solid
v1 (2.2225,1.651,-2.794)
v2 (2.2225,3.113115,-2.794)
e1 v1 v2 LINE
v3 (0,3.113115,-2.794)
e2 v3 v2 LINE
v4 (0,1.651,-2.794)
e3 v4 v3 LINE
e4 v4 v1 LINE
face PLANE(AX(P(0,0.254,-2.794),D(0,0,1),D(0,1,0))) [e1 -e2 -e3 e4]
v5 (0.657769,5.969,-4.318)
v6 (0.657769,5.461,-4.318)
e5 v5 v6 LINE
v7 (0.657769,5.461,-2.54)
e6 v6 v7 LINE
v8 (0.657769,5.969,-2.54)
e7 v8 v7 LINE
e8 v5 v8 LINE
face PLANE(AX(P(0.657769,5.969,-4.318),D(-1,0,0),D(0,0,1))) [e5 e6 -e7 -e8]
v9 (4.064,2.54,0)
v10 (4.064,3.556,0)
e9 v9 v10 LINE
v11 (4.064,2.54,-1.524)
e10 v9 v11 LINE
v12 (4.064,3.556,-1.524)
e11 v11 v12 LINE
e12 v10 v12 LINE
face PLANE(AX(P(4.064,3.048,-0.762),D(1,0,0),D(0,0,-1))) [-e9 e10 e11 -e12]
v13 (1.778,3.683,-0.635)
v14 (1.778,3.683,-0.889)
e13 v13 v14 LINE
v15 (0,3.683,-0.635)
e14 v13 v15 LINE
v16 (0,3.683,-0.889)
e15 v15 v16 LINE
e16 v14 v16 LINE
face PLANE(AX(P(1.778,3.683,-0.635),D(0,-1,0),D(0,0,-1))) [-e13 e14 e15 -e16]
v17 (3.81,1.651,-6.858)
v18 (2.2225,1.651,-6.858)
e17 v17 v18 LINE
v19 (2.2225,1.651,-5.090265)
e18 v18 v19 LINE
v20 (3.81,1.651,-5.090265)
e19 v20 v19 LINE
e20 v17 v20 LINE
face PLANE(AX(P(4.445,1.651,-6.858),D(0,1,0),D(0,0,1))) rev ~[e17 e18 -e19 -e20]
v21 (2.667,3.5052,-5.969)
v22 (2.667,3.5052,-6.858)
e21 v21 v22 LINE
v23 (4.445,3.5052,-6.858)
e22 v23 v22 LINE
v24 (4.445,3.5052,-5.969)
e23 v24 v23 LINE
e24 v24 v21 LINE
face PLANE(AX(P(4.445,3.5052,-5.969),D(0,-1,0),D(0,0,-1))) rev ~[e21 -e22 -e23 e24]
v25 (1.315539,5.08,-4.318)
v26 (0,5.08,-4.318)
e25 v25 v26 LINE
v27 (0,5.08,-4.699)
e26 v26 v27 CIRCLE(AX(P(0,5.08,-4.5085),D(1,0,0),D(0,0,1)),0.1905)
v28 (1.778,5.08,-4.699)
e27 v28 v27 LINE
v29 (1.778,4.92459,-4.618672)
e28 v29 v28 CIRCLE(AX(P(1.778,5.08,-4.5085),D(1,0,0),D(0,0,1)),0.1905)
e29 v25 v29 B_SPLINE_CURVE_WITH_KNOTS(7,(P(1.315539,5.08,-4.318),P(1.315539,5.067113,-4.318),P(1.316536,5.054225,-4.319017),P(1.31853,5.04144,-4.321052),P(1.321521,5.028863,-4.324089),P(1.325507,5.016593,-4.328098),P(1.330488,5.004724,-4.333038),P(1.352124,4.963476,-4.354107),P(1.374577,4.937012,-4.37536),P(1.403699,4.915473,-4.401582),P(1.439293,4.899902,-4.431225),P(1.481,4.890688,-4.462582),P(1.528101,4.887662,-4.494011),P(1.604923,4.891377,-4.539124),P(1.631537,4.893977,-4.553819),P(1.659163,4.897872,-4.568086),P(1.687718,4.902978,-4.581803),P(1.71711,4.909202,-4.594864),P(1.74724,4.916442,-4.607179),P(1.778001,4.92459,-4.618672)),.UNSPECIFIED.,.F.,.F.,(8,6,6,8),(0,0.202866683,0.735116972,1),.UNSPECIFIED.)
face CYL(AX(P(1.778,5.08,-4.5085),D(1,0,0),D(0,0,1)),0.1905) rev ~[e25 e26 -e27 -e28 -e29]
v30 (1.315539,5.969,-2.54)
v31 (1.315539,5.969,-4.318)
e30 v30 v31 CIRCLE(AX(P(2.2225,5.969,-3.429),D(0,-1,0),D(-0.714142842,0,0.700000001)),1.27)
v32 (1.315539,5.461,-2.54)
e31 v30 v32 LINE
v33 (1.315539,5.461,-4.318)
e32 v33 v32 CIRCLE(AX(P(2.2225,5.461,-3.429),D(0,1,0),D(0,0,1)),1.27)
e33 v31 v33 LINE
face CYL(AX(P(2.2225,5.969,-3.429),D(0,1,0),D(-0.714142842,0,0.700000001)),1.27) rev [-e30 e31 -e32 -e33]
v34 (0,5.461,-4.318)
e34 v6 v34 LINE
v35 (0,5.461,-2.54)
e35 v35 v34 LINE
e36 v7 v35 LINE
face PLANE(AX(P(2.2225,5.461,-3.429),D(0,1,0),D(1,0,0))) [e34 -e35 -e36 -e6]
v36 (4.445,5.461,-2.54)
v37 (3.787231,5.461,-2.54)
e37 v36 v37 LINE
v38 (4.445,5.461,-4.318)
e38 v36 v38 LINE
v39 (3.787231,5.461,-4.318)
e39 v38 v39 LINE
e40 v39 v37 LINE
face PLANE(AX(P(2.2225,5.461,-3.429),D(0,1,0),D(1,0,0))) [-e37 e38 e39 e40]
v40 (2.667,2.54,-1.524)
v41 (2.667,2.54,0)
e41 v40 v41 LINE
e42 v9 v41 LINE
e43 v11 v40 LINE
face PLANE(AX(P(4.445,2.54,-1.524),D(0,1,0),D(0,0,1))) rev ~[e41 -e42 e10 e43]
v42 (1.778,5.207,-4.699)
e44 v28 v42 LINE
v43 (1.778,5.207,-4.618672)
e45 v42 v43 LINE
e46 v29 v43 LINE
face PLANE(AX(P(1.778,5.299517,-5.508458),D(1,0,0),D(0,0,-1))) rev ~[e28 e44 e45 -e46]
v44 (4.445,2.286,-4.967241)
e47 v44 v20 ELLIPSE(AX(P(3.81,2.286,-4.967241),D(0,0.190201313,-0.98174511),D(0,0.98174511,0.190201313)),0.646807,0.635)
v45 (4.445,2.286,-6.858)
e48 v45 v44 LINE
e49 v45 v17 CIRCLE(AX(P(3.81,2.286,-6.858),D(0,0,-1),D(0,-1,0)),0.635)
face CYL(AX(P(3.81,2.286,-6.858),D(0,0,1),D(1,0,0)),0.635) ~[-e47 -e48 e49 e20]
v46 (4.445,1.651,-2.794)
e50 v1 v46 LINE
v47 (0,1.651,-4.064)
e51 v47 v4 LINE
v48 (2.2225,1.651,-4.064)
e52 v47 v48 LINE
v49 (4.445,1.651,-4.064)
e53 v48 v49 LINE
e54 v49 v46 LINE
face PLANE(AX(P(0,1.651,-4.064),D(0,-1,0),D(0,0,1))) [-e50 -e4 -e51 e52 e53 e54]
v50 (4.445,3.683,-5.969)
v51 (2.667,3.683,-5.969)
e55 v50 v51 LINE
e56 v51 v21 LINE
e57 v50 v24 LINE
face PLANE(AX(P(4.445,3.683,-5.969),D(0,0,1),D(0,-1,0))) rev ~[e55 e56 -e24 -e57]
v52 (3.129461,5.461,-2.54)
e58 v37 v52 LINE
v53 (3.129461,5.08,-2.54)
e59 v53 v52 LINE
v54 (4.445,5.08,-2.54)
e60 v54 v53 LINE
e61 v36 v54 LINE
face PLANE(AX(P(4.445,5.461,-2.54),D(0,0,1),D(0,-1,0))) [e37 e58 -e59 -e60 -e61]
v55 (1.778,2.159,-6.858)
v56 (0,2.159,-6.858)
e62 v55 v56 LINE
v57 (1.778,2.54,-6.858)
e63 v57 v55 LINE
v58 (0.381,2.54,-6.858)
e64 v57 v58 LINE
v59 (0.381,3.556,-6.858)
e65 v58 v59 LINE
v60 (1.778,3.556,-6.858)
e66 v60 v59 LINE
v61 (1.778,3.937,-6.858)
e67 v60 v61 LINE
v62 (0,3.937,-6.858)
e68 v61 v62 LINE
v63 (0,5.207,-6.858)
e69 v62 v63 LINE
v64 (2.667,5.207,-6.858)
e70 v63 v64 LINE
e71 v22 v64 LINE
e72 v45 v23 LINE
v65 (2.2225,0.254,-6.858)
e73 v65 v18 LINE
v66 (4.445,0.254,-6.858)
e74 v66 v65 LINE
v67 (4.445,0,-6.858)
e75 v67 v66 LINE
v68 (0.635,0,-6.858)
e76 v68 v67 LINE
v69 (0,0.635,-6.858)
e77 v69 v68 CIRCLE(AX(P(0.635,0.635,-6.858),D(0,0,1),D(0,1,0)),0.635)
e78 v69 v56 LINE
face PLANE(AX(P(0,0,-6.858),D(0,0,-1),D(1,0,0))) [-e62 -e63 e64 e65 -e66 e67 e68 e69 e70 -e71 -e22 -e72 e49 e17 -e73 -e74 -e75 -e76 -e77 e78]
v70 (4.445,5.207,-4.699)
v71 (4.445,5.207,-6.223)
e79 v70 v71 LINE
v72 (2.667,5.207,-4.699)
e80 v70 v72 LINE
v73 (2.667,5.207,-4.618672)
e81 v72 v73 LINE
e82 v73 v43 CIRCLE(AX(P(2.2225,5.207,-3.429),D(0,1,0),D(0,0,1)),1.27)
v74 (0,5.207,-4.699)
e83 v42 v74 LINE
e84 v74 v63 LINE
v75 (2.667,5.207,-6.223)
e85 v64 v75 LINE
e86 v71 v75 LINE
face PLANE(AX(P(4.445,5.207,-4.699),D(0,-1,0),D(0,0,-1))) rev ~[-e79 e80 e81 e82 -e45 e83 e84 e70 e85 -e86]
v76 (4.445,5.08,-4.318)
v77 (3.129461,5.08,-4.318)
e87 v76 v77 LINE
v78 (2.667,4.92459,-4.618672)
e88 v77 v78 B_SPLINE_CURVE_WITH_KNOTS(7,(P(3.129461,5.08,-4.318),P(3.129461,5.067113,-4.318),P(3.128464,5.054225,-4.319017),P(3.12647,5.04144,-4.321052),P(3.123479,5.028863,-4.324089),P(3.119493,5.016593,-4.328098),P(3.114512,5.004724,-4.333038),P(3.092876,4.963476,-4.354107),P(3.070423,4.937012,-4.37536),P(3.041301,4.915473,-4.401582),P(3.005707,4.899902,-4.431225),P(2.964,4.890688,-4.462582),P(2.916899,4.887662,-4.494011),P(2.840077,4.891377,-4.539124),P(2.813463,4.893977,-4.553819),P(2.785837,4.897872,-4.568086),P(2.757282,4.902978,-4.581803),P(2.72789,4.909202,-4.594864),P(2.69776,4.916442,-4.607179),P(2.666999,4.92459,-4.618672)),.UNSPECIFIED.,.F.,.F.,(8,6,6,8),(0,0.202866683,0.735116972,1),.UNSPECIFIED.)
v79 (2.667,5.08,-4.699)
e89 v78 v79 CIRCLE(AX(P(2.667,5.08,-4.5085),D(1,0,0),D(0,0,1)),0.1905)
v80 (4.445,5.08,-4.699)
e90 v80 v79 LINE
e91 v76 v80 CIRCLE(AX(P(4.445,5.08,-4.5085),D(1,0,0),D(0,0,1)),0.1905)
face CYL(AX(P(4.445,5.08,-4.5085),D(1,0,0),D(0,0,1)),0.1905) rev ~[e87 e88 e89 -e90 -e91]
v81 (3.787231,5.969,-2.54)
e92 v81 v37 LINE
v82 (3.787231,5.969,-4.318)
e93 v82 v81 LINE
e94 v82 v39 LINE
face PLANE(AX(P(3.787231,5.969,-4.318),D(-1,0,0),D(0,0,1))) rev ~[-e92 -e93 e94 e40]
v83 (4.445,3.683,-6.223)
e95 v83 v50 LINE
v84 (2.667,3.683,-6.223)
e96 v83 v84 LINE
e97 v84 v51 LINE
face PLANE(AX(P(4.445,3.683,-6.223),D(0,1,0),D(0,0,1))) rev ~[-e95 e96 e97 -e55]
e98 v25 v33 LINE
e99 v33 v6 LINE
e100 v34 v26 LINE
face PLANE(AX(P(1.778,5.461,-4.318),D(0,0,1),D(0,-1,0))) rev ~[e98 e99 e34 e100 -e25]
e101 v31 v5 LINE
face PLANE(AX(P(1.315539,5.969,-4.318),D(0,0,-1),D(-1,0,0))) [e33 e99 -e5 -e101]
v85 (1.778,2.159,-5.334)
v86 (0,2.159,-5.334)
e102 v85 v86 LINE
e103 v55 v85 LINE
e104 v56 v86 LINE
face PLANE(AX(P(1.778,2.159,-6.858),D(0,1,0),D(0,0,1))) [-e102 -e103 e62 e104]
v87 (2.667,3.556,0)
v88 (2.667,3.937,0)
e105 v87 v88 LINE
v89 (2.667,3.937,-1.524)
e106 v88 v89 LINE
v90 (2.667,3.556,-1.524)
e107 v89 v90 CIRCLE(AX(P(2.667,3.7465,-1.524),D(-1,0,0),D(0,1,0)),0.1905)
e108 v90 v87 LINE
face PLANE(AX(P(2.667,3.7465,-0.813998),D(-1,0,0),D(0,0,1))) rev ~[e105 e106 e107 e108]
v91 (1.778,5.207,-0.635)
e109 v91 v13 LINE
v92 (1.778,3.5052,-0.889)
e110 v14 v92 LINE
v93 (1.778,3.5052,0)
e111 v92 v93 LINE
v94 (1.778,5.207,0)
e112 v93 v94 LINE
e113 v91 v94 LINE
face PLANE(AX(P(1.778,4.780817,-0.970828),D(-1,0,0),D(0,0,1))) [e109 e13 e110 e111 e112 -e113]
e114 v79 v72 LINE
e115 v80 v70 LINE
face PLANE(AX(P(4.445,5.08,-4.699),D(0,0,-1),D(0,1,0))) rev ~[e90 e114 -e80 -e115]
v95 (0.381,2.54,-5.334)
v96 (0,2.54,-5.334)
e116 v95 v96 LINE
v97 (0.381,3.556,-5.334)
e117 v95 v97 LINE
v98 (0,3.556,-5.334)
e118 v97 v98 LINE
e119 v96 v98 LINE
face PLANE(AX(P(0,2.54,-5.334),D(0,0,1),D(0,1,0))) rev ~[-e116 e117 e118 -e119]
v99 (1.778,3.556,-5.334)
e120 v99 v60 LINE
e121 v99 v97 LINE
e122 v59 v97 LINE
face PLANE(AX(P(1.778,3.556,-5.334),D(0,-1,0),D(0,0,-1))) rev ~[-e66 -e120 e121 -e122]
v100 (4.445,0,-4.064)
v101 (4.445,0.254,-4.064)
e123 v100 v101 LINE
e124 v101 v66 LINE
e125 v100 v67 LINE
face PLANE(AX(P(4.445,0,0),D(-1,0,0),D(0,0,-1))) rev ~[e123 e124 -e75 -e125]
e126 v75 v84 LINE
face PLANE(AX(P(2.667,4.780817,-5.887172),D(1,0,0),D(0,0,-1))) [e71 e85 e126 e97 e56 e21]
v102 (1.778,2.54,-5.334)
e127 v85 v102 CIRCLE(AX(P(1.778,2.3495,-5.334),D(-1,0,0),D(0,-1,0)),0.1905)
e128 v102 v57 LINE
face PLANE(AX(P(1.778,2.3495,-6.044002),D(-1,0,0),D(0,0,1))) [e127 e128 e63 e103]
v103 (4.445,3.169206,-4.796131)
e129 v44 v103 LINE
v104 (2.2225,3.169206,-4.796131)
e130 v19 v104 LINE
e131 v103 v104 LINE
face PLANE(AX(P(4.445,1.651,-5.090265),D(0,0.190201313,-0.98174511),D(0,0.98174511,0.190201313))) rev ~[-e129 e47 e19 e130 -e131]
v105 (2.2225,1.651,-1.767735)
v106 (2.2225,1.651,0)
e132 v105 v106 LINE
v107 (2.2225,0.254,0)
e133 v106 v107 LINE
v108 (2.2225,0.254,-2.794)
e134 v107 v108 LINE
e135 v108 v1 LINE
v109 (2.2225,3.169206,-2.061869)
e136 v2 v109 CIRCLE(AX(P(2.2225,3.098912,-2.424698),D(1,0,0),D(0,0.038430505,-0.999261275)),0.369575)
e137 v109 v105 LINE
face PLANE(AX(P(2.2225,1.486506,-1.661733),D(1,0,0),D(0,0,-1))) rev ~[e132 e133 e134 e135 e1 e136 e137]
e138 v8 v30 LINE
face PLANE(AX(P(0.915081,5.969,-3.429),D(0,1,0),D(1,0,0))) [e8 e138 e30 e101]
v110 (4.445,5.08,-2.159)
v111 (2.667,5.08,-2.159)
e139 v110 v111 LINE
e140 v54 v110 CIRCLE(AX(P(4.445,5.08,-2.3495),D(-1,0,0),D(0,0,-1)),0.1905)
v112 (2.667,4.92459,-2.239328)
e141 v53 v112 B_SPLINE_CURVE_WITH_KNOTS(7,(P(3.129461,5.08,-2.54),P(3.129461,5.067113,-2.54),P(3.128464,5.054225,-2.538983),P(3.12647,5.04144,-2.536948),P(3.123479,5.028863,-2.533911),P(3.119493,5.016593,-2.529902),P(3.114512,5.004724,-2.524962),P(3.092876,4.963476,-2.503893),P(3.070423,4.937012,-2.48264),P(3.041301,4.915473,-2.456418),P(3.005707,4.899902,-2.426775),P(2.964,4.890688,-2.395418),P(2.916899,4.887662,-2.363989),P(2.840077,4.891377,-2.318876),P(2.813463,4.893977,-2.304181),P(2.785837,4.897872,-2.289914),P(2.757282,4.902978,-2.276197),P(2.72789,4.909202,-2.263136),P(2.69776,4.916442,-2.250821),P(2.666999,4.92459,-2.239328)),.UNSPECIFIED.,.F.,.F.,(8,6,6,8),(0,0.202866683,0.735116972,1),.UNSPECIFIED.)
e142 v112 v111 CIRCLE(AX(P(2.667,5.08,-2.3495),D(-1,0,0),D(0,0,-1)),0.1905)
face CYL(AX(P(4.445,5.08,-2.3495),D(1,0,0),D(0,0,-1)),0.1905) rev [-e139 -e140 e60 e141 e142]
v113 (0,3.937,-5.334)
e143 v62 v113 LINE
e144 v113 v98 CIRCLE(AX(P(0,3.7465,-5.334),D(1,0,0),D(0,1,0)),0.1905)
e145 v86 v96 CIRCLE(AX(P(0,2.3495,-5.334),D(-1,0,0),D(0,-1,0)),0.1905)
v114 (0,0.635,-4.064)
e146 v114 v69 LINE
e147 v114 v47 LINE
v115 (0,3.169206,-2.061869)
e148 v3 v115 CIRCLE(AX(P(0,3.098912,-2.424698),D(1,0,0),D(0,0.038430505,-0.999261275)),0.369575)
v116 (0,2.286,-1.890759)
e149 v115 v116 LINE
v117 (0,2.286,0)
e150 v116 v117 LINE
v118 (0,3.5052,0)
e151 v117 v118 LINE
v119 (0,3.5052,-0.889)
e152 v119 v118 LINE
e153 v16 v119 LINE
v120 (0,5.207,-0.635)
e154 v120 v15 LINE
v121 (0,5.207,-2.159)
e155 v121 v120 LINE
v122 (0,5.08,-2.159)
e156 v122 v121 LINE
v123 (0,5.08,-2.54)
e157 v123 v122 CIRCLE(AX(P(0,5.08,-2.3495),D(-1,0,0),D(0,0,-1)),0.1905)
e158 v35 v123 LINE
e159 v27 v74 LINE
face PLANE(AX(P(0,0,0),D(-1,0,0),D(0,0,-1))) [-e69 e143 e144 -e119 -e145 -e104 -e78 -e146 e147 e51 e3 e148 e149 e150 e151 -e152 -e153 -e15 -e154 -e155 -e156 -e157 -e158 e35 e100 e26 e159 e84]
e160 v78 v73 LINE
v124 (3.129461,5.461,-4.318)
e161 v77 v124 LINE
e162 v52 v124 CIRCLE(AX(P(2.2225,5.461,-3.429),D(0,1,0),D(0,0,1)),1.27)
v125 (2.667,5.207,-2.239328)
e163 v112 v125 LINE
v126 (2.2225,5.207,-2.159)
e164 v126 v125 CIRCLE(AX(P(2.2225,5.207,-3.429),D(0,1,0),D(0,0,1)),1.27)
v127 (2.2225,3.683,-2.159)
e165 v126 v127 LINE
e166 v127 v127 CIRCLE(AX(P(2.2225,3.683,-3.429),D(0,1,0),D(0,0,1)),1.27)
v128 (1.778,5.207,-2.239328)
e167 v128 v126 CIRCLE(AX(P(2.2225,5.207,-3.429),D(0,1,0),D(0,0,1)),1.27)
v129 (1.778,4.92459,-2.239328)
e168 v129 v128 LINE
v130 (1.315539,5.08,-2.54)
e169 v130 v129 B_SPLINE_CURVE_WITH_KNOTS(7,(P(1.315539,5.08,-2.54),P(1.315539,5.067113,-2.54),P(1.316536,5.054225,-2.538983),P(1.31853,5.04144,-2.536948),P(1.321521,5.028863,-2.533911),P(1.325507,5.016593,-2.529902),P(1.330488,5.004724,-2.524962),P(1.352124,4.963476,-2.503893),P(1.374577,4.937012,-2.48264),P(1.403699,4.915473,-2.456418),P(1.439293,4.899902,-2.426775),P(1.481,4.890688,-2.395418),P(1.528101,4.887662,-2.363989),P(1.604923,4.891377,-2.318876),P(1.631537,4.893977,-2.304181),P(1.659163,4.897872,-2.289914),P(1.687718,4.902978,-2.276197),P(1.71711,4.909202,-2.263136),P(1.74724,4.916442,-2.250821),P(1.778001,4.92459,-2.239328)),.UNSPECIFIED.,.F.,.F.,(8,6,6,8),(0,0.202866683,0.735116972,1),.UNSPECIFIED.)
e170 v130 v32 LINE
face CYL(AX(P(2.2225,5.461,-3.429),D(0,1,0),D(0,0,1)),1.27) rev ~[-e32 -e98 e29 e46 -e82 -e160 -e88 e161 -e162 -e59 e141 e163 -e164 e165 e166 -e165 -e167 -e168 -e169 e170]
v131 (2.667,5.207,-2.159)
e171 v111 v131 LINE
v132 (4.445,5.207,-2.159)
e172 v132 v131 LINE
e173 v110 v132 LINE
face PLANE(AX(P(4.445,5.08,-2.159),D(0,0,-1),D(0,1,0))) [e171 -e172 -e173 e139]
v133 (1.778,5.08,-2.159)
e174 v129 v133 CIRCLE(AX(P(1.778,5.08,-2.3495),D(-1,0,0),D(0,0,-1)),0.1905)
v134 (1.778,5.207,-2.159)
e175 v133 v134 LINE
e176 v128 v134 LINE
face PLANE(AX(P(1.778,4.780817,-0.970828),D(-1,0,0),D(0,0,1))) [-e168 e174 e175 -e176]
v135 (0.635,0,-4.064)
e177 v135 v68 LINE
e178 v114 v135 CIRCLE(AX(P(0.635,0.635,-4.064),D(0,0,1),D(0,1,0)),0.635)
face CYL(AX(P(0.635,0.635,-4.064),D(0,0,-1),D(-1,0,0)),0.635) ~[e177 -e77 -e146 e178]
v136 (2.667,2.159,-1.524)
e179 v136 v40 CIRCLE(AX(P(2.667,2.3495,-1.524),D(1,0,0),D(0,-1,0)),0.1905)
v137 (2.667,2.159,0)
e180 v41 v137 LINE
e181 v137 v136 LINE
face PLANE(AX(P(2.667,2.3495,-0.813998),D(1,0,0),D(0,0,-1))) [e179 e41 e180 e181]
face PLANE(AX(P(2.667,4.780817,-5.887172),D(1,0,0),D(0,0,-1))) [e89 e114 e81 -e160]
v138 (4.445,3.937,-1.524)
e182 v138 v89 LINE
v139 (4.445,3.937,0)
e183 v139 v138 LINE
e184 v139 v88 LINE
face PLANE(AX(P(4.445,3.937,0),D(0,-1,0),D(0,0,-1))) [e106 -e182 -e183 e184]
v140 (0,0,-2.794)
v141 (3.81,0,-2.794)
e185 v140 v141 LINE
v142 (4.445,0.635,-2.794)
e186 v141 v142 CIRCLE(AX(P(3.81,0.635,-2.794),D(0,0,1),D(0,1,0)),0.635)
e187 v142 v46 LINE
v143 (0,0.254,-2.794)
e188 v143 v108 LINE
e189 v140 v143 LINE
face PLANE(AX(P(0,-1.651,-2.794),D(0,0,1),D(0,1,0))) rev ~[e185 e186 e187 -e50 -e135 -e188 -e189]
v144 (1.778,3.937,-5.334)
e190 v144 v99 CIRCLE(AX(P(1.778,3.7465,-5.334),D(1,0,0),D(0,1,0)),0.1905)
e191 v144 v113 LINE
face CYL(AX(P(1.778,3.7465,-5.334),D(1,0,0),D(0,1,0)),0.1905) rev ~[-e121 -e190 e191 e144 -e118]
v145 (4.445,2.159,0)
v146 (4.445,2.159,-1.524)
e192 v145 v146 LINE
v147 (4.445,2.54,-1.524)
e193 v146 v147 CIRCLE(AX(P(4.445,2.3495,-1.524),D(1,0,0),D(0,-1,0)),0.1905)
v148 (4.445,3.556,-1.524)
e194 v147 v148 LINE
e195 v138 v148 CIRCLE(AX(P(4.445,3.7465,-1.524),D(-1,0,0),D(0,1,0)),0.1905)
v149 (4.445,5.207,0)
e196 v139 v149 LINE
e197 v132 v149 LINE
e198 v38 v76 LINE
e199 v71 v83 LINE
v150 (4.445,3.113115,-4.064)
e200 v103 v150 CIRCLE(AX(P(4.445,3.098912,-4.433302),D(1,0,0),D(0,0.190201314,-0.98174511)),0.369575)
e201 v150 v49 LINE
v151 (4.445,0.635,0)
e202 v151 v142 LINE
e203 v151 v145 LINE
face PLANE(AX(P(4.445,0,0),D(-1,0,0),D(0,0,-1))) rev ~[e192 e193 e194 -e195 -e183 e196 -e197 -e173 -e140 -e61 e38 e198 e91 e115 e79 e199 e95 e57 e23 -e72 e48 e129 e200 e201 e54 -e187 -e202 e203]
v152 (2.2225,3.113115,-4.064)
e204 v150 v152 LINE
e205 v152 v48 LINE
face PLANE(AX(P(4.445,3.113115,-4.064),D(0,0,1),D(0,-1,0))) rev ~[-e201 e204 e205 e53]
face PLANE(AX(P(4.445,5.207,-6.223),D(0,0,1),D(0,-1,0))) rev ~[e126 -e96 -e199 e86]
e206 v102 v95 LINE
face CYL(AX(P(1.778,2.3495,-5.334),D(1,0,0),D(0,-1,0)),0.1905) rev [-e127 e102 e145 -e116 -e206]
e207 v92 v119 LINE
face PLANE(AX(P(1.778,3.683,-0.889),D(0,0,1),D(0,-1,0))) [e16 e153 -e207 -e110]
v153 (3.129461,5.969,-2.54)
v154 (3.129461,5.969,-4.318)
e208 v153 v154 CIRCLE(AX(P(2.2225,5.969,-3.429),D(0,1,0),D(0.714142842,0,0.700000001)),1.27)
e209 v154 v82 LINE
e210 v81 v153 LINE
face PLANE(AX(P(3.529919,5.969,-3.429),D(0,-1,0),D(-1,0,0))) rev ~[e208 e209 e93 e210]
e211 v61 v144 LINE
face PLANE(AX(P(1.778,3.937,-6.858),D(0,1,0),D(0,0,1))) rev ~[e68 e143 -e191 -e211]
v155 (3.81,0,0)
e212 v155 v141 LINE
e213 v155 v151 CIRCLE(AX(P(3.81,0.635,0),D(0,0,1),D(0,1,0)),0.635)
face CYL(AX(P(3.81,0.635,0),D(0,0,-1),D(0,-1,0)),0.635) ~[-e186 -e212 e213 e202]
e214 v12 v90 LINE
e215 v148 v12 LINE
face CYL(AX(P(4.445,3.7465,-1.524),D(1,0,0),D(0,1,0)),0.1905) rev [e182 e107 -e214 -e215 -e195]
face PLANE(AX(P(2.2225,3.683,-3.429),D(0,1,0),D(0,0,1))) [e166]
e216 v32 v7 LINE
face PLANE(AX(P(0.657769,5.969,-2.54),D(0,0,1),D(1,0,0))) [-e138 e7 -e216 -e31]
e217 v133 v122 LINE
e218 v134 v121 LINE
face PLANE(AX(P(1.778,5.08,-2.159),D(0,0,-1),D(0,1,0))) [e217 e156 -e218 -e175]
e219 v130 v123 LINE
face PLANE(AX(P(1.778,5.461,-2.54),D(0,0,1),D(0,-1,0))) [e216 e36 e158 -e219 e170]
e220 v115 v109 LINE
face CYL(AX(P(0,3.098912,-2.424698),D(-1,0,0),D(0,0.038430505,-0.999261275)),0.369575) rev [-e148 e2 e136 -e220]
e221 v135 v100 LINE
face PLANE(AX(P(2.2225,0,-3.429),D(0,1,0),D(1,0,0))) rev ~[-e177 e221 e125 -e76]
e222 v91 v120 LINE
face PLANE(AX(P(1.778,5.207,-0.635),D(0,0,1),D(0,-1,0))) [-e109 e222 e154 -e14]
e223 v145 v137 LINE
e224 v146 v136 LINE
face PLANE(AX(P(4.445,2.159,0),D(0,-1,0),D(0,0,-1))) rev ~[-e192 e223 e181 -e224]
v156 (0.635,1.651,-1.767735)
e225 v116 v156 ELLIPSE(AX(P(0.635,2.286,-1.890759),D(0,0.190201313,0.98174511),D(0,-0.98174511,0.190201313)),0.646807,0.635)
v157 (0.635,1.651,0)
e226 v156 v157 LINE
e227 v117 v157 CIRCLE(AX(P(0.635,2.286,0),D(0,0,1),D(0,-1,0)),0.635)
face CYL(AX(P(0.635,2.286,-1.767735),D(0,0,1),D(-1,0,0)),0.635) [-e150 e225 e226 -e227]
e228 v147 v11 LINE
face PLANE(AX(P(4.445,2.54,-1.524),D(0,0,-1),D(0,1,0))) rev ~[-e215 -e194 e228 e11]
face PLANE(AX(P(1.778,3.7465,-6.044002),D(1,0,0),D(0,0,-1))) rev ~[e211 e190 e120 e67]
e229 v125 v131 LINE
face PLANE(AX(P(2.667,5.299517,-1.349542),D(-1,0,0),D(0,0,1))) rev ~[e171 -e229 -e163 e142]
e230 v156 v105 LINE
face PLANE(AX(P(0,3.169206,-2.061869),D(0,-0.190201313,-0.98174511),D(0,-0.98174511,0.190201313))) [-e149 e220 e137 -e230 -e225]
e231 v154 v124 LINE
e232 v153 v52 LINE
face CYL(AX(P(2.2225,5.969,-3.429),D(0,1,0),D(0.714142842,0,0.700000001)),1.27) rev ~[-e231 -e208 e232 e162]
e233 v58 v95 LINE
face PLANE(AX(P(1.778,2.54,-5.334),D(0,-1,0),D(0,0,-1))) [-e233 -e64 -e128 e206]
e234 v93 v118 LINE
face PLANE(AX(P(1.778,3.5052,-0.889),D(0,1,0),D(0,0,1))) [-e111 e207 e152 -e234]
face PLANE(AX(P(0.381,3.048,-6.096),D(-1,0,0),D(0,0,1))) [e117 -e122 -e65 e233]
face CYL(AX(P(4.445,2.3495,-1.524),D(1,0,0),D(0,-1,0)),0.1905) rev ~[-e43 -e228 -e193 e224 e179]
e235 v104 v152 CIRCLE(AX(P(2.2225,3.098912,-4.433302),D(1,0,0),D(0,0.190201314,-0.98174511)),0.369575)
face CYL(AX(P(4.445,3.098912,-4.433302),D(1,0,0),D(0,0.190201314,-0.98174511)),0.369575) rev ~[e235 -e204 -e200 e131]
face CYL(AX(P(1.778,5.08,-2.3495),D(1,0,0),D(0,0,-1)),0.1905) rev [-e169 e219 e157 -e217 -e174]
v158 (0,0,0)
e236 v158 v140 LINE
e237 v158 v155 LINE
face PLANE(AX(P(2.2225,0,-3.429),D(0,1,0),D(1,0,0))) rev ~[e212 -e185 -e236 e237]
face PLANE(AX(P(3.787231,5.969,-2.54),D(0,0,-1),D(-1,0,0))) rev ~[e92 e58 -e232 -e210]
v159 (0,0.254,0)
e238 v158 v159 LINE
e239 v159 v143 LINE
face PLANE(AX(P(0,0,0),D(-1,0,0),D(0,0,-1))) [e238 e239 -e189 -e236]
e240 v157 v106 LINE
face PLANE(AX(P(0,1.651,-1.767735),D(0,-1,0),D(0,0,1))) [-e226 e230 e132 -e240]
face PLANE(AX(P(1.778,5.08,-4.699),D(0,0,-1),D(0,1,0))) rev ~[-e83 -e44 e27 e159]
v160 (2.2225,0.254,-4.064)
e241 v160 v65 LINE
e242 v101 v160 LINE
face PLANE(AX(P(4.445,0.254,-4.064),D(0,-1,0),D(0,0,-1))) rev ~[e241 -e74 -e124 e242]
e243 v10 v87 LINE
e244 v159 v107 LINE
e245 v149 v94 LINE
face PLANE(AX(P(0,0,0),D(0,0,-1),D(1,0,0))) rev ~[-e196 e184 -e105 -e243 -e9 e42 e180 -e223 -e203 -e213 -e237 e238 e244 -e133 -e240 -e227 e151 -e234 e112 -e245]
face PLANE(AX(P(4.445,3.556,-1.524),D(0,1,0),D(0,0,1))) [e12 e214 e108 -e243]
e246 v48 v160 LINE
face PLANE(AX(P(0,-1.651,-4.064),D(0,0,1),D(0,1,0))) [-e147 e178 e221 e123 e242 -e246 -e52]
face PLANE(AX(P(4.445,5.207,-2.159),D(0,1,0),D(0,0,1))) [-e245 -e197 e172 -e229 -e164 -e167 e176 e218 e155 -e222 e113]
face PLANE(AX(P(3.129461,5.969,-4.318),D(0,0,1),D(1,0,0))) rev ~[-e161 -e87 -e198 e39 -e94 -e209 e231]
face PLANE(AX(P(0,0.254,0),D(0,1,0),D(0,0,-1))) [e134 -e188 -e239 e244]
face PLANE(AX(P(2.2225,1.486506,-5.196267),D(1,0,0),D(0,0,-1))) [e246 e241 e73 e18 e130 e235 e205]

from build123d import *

# Parameters (mm, degrees)
SKETCH1_W           = 4.445
SKETCH1_H           = 6.858
BOSS_EXTRUDE1_DEPTH = 5.461
SKETCH2_R           = 1.27
CUT_EXTRUDE1_DEPTH  = 1.778
SKETCH3_W           = 1.27
SKETCH3_H           = 3.302
CUT_EXTRUDE2_DEPTH  = 10.829176466
CUT_EXTRUDE3_DEPTH  = 2.2225
CUT_EXTRUDE4_DEPTH  = 2.2225
CUT_EXTRUDE6_DEPTH  = 1.778
CUT_EXTRUDE7_START  = -1.778
CUT_EXTRUDE7_DEPTH  = 1.778
FILLET1_R           = 0.635
SKETCH14_W          = 0.889
SKETCH14_H          = 0.254
CUT_EXTRUDE8_DEPTH  = 10.829176567
BOSS_EXTRUDE2_START = 0.508
BOSS_EXTRUDE2_DEPTH = 0.508
SKETCH16_W          = 1.524
SKETCH16_H          = 1.016
CUT_EXTRUDE9_DEPTH  = 0.381
SKETCH17_W          = 1.524
SKETCH17_H          = 1.016
CUT_EXTRUDE10_DEPTH = 0.381


with BuildPart() as part:
    # Sketch1 → Boss-Extrude1 (new body)
    with BuildSketch(Plane(origin=(0, 0, 0), x_dir=(1, 0, 0), z_dir=(0, 1, 0))):
        with Locations((2.2225, 3.429)):
            Rectangle(SKETCH1_W, SKETCH1_H)
    extrude(amount=BOSS_EXTRUDE1_DEPTH)

    # Sketch2 → Cut-Extrude1 (cut)
    with BuildSketch(Plane(origin=(0, 5.461, 0), x_dir=(1, 0, 0), z_dir=(0, 1, 0))):
        with Locations(Location((2.2225, 3.429, 0), (0, 0, 270))):
            Circle(SKETCH2_R)
    extrude(amount=-CUT_EXTRUDE1_DEPTH, mode=Mode.SUBTRACT)

    # Sketch3 → Cut-Extrude2 (cut, through all)
    with BuildSketch(Plane.ZY):
        with Locations((-3.429, 0)):
            Rectangle(SKETCH3_W, SKETCH3_H)
    extrude(amount=-CUT_EXTRUDE2_DEPTH, mode=Mode.SUBTRACT)

    # Sketch4 → Cut-Extrude3 (cut)
    with BuildSketch(Plane.ZY):
        with BuildLine():
            Line((-2.794, 1.651), (-2.794, 3.11311482))
            ThreePointArc((-2.794, 3.11311482), (-2.452929401, 3.467407127), (-2.061869299, 3.169205537))
            Line((-2.061869299, 3.169205537), (-1.767735227, 1.651))
            Line((-1.767735227, 1.651), (0, 1.651))
            Line((0, 1.651), (0, 0.254))
            Line((0, 0.254), (-2.794, 0.254))
            Line((-2.794, 0.254), (-2.794, 1.651))
        make_face()
    extrude(amount=-CUT_EXTRUDE3_DEPTH, mode=Mode.SUBTRACT)

    # Sketch11 → Cut-Extrude4 (cut)
    with BuildSketch(Plane(origin=(4.445, 0, 0), x_dir=(0, 0, -1), z_dir=(1, 0, 0))):
        with BuildLine():
            Line((6.858, 0.254), (6.858, 1.651))
            Line((6.858, 1.651), (5.090264773, 1.651))
            Line((5.090264773, 1.651), (4.796130701, 3.169205537))
            ThreePointArc((4.796130701, 3.169205537), (4.405070599, 3.467407127), (4.064, 3.11311482))
            Line((4.064, 3.11311482), (4.064, 1.651))
            Line((4.064, 1.651), (4.064, 0.254))
            Line((4.064, 0.254), (6.858, 0.254))
        make_face()
    extrude(amount=-CUT_EXTRUDE4_DEPTH, mode=Mode.SUBTRACT)

    # Sketch12 → Cut-Extrude6 (cut)
    with BuildSketch(Plane(origin=(4.445, 0, 0), x_dir=(0, 0, -1), z_dir=(1, 0, 0))):
        with BuildLine():
            Line((0, 2.159), (1.524, 2.159))
            ThreePointArc((1.524, 2.159), (1.7145, 2.3495), (1.524, 2.54))
            Line((1.524, 2.54), (0, 2.54))
            Line((0, 2.54), (0, 2.159))
        make_face()
        with BuildLine():
            Line((0, 3.937), (1.524, 3.937))
            ThreePointArc((1.524, 3.937), (1.7145, 3.7465), (1.524, 3.556))
            Line((1.524, 3.556), (0, 3.556))
            Line((0, 3.556), (0, 3.937))
        make_face()
        with BuildLine():
            Line((2.54, 5.207), (2.54, 5.08))
            ThreePointArc((2.54, 5.08), (2.3495, 4.8895), (2.159, 5.08))
            Line((2.159, 5.08), (2.159, 5.207))
            Line((2.159, 5.207), (0, 5.207))
            Line((0, 5.207), (0, 5.461))
            Line((0, 5.461), (2.54, 5.461))
            Line((2.54, 5.461), (2.54, 5.207))
        make_face()
        with BuildLine():
            Line((4.699, 5.08), (4.699, 5.207))
            Line((4.699, 5.207), (6.223, 5.207))
            Line((6.223, 5.207), (6.223, 3.683))
            Line((6.223, 3.683), (5.969, 3.683))
            Line((5.969, 3.683), (5.969, 3.5052))
            Line((5.969, 3.5052), (6.858, 3.5052))
            Line((6.858, 3.5052), (6.858, 5.461))
            Line((6.858, 5.461), (4.318, 5.461))
            Line((4.318, 5.461), (4.318, 5.207))
            Line((4.318, 5.207), (4.318, 5.08))
            ThreePointArc((4.318, 5.08), (4.5085, 4.8895), (4.699, 5.08))
        make_face()
    extrude(amount=-CUT_EXTRUDE6_DEPTH, mode=Mode.SUBTRACT)

    # Sketch13 → Cut-Extrude7 (cut)
    with BuildSketch(Plane.ZY.offset(CUT_EXTRUDE7_START)):
        with BuildLine():
            Line((-6.858, 2.159), (-5.334, 2.159))
            ThreePointArc((-5.334, 2.159), (-5.1435, 2.3495), (-5.334, 2.54))
            Line((-5.334, 2.54), (-6.858, 2.54))
            Line((-6.858, 2.54), (-6.858, 2.159))
        make_face()
        with BuildLine():
            Line((-6.858, 3.937), (-5.334, 3.937))
            ThreePointArc((-5.334, 3.937), (-5.1435, 3.7465), (-5.334, 3.556))
            Line((-5.334, 3.556), (-6.858, 3.556))
            Line((-6.858, 3.556), (-6.858, 3.937))
        make_face()
        with BuildLine():
            Line((-4.318, 5.207), (-4.318, 5.08))
            ThreePointArc((-4.318, 5.08), (-4.5085, 4.8895), (-4.699, 5.08))
            Line((-4.699, 5.08), (-4.699, 5.207))
            Line((-4.699, 5.207), (-6.858, 5.207))
            Line((-6.858, 5.207), (-6.858, 5.461))
            Line((-6.858, 5.461), (-4.318, 5.461))
            Line((-4.318, 5.461), (-4.318, 5.207))
        make_face()
        with BuildLine():
            Line((-2.159, 5.08), (-2.159, 5.207))
            Line((-2.159, 5.207), (-0.635, 5.207))
            Line((-0.635, 5.207), (-0.635, 3.683))
            Line((-0.635, 3.683), (-0.889, 3.683))
            Line((-0.889, 3.683), (-0.889, 3.5052))
            Line((-0.889, 3.5052), (0, 3.5052))
            Line((0, 3.5052), (0, 5.461))
            Line((0, 5.461), (-2.54, 5.461))
            Line((-2.54, 5.461), (-2.54, 5.207))
            Line((-2.54, 5.207), (-2.54, 5.08))
            ThreePointArc((-2.54, 5.08), (-2.3495, 4.8895), (-2.159, 5.08))
        make_face()
    extrude(amount=CUT_EXTRUDE7_DEPTH, mode=Mode.SUBTRACT)

    # Fillet1
    fillet1_edges = [part.edges().sort_by_distance(p)[0] for p in [
        (0, 1.651, -0.883867613),
        (4.445, 0, -1.397),
        (0, 0, -5.461),
        (4.445, 1.651, -5.974132387),
    ]]
    fillet(fillet1_edges, radius=FILLET1_R)

    # Sketch14 → Cut-Extrude8 (cut, through all)
    with BuildSketch(Plane(origin=(0, 0, -6.858), x_dir=(-1, 0, 0), z_dir=(0, 0, -1))):
        with Locations((-2.2225, 5.334)):
            Rectangle(SKETCH14_W, SKETCH14_H)
    extrude(amount=-CUT_EXTRUDE8_DEPTH, mode=Mode.SUBTRACT)

    # Sketch15 → Boss-Extrude2 (add)
    with BuildSketch(Plane(origin=(0, 5.461, 0), x_dir=(1, 0, 0), z_dir=(0, 1, 0)).offset(BOSS_EXTRUDE2_START)):
        with BuildLine():
            Line((3.12946141, 4.318), (3.787230705, 4.318))
            Line((3.787230705, 4.318), (3.787230705, 2.54))
            Line((3.787230705, 2.54), (3.12946141, 2.54))
            ThreePointArc((3.12946141, 2.54), (3.4925, 3.429), (3.12946141, 4.318))
        make_face()
        with BuildLine():
            Line((1.31553859, 4.318), (0.657769295, 4.318))
            Line((0.657769295, 4.318), (0.657769295, 2.54))
            Line((0.657769295, 2.54), (1.31553859, 2.54))
            ThreePointArc((1.31553859, 2.54), (0.9525, 3.429), (1.31553859, 4.318))
        make_face()
    extrude(amount=-BOSS_EXTRUDE2_DEPTH)

    # Sketch16 → Cut-Extrude9 (cut)
    with BuildSketch(Plane.ZY):
        with Locations((-6.096, 3.048)):
            Rectangle(SKETCH16_W, SKETCH16_H)
    extrude(amount=-CUT_EXTRUDE9_DEPTH, mode=Mode.SUBTRACT)

    # Sketch17 → Cut-Extrude10 (cut)
    with BuildSketch(Plane(origin=(4.445, 0, 0), x_dir=(0, 0, -1), z_dir=(1, 0, 0))):
        with Locations((0.762, 3.048)):
            Rectangle(SKETCH17_W, SKETCH17_H)
    extrude(amount=-CUT_EXTRUDE10_DEPTH, mode=Mode.SUBTRACT)


solid = part.part
